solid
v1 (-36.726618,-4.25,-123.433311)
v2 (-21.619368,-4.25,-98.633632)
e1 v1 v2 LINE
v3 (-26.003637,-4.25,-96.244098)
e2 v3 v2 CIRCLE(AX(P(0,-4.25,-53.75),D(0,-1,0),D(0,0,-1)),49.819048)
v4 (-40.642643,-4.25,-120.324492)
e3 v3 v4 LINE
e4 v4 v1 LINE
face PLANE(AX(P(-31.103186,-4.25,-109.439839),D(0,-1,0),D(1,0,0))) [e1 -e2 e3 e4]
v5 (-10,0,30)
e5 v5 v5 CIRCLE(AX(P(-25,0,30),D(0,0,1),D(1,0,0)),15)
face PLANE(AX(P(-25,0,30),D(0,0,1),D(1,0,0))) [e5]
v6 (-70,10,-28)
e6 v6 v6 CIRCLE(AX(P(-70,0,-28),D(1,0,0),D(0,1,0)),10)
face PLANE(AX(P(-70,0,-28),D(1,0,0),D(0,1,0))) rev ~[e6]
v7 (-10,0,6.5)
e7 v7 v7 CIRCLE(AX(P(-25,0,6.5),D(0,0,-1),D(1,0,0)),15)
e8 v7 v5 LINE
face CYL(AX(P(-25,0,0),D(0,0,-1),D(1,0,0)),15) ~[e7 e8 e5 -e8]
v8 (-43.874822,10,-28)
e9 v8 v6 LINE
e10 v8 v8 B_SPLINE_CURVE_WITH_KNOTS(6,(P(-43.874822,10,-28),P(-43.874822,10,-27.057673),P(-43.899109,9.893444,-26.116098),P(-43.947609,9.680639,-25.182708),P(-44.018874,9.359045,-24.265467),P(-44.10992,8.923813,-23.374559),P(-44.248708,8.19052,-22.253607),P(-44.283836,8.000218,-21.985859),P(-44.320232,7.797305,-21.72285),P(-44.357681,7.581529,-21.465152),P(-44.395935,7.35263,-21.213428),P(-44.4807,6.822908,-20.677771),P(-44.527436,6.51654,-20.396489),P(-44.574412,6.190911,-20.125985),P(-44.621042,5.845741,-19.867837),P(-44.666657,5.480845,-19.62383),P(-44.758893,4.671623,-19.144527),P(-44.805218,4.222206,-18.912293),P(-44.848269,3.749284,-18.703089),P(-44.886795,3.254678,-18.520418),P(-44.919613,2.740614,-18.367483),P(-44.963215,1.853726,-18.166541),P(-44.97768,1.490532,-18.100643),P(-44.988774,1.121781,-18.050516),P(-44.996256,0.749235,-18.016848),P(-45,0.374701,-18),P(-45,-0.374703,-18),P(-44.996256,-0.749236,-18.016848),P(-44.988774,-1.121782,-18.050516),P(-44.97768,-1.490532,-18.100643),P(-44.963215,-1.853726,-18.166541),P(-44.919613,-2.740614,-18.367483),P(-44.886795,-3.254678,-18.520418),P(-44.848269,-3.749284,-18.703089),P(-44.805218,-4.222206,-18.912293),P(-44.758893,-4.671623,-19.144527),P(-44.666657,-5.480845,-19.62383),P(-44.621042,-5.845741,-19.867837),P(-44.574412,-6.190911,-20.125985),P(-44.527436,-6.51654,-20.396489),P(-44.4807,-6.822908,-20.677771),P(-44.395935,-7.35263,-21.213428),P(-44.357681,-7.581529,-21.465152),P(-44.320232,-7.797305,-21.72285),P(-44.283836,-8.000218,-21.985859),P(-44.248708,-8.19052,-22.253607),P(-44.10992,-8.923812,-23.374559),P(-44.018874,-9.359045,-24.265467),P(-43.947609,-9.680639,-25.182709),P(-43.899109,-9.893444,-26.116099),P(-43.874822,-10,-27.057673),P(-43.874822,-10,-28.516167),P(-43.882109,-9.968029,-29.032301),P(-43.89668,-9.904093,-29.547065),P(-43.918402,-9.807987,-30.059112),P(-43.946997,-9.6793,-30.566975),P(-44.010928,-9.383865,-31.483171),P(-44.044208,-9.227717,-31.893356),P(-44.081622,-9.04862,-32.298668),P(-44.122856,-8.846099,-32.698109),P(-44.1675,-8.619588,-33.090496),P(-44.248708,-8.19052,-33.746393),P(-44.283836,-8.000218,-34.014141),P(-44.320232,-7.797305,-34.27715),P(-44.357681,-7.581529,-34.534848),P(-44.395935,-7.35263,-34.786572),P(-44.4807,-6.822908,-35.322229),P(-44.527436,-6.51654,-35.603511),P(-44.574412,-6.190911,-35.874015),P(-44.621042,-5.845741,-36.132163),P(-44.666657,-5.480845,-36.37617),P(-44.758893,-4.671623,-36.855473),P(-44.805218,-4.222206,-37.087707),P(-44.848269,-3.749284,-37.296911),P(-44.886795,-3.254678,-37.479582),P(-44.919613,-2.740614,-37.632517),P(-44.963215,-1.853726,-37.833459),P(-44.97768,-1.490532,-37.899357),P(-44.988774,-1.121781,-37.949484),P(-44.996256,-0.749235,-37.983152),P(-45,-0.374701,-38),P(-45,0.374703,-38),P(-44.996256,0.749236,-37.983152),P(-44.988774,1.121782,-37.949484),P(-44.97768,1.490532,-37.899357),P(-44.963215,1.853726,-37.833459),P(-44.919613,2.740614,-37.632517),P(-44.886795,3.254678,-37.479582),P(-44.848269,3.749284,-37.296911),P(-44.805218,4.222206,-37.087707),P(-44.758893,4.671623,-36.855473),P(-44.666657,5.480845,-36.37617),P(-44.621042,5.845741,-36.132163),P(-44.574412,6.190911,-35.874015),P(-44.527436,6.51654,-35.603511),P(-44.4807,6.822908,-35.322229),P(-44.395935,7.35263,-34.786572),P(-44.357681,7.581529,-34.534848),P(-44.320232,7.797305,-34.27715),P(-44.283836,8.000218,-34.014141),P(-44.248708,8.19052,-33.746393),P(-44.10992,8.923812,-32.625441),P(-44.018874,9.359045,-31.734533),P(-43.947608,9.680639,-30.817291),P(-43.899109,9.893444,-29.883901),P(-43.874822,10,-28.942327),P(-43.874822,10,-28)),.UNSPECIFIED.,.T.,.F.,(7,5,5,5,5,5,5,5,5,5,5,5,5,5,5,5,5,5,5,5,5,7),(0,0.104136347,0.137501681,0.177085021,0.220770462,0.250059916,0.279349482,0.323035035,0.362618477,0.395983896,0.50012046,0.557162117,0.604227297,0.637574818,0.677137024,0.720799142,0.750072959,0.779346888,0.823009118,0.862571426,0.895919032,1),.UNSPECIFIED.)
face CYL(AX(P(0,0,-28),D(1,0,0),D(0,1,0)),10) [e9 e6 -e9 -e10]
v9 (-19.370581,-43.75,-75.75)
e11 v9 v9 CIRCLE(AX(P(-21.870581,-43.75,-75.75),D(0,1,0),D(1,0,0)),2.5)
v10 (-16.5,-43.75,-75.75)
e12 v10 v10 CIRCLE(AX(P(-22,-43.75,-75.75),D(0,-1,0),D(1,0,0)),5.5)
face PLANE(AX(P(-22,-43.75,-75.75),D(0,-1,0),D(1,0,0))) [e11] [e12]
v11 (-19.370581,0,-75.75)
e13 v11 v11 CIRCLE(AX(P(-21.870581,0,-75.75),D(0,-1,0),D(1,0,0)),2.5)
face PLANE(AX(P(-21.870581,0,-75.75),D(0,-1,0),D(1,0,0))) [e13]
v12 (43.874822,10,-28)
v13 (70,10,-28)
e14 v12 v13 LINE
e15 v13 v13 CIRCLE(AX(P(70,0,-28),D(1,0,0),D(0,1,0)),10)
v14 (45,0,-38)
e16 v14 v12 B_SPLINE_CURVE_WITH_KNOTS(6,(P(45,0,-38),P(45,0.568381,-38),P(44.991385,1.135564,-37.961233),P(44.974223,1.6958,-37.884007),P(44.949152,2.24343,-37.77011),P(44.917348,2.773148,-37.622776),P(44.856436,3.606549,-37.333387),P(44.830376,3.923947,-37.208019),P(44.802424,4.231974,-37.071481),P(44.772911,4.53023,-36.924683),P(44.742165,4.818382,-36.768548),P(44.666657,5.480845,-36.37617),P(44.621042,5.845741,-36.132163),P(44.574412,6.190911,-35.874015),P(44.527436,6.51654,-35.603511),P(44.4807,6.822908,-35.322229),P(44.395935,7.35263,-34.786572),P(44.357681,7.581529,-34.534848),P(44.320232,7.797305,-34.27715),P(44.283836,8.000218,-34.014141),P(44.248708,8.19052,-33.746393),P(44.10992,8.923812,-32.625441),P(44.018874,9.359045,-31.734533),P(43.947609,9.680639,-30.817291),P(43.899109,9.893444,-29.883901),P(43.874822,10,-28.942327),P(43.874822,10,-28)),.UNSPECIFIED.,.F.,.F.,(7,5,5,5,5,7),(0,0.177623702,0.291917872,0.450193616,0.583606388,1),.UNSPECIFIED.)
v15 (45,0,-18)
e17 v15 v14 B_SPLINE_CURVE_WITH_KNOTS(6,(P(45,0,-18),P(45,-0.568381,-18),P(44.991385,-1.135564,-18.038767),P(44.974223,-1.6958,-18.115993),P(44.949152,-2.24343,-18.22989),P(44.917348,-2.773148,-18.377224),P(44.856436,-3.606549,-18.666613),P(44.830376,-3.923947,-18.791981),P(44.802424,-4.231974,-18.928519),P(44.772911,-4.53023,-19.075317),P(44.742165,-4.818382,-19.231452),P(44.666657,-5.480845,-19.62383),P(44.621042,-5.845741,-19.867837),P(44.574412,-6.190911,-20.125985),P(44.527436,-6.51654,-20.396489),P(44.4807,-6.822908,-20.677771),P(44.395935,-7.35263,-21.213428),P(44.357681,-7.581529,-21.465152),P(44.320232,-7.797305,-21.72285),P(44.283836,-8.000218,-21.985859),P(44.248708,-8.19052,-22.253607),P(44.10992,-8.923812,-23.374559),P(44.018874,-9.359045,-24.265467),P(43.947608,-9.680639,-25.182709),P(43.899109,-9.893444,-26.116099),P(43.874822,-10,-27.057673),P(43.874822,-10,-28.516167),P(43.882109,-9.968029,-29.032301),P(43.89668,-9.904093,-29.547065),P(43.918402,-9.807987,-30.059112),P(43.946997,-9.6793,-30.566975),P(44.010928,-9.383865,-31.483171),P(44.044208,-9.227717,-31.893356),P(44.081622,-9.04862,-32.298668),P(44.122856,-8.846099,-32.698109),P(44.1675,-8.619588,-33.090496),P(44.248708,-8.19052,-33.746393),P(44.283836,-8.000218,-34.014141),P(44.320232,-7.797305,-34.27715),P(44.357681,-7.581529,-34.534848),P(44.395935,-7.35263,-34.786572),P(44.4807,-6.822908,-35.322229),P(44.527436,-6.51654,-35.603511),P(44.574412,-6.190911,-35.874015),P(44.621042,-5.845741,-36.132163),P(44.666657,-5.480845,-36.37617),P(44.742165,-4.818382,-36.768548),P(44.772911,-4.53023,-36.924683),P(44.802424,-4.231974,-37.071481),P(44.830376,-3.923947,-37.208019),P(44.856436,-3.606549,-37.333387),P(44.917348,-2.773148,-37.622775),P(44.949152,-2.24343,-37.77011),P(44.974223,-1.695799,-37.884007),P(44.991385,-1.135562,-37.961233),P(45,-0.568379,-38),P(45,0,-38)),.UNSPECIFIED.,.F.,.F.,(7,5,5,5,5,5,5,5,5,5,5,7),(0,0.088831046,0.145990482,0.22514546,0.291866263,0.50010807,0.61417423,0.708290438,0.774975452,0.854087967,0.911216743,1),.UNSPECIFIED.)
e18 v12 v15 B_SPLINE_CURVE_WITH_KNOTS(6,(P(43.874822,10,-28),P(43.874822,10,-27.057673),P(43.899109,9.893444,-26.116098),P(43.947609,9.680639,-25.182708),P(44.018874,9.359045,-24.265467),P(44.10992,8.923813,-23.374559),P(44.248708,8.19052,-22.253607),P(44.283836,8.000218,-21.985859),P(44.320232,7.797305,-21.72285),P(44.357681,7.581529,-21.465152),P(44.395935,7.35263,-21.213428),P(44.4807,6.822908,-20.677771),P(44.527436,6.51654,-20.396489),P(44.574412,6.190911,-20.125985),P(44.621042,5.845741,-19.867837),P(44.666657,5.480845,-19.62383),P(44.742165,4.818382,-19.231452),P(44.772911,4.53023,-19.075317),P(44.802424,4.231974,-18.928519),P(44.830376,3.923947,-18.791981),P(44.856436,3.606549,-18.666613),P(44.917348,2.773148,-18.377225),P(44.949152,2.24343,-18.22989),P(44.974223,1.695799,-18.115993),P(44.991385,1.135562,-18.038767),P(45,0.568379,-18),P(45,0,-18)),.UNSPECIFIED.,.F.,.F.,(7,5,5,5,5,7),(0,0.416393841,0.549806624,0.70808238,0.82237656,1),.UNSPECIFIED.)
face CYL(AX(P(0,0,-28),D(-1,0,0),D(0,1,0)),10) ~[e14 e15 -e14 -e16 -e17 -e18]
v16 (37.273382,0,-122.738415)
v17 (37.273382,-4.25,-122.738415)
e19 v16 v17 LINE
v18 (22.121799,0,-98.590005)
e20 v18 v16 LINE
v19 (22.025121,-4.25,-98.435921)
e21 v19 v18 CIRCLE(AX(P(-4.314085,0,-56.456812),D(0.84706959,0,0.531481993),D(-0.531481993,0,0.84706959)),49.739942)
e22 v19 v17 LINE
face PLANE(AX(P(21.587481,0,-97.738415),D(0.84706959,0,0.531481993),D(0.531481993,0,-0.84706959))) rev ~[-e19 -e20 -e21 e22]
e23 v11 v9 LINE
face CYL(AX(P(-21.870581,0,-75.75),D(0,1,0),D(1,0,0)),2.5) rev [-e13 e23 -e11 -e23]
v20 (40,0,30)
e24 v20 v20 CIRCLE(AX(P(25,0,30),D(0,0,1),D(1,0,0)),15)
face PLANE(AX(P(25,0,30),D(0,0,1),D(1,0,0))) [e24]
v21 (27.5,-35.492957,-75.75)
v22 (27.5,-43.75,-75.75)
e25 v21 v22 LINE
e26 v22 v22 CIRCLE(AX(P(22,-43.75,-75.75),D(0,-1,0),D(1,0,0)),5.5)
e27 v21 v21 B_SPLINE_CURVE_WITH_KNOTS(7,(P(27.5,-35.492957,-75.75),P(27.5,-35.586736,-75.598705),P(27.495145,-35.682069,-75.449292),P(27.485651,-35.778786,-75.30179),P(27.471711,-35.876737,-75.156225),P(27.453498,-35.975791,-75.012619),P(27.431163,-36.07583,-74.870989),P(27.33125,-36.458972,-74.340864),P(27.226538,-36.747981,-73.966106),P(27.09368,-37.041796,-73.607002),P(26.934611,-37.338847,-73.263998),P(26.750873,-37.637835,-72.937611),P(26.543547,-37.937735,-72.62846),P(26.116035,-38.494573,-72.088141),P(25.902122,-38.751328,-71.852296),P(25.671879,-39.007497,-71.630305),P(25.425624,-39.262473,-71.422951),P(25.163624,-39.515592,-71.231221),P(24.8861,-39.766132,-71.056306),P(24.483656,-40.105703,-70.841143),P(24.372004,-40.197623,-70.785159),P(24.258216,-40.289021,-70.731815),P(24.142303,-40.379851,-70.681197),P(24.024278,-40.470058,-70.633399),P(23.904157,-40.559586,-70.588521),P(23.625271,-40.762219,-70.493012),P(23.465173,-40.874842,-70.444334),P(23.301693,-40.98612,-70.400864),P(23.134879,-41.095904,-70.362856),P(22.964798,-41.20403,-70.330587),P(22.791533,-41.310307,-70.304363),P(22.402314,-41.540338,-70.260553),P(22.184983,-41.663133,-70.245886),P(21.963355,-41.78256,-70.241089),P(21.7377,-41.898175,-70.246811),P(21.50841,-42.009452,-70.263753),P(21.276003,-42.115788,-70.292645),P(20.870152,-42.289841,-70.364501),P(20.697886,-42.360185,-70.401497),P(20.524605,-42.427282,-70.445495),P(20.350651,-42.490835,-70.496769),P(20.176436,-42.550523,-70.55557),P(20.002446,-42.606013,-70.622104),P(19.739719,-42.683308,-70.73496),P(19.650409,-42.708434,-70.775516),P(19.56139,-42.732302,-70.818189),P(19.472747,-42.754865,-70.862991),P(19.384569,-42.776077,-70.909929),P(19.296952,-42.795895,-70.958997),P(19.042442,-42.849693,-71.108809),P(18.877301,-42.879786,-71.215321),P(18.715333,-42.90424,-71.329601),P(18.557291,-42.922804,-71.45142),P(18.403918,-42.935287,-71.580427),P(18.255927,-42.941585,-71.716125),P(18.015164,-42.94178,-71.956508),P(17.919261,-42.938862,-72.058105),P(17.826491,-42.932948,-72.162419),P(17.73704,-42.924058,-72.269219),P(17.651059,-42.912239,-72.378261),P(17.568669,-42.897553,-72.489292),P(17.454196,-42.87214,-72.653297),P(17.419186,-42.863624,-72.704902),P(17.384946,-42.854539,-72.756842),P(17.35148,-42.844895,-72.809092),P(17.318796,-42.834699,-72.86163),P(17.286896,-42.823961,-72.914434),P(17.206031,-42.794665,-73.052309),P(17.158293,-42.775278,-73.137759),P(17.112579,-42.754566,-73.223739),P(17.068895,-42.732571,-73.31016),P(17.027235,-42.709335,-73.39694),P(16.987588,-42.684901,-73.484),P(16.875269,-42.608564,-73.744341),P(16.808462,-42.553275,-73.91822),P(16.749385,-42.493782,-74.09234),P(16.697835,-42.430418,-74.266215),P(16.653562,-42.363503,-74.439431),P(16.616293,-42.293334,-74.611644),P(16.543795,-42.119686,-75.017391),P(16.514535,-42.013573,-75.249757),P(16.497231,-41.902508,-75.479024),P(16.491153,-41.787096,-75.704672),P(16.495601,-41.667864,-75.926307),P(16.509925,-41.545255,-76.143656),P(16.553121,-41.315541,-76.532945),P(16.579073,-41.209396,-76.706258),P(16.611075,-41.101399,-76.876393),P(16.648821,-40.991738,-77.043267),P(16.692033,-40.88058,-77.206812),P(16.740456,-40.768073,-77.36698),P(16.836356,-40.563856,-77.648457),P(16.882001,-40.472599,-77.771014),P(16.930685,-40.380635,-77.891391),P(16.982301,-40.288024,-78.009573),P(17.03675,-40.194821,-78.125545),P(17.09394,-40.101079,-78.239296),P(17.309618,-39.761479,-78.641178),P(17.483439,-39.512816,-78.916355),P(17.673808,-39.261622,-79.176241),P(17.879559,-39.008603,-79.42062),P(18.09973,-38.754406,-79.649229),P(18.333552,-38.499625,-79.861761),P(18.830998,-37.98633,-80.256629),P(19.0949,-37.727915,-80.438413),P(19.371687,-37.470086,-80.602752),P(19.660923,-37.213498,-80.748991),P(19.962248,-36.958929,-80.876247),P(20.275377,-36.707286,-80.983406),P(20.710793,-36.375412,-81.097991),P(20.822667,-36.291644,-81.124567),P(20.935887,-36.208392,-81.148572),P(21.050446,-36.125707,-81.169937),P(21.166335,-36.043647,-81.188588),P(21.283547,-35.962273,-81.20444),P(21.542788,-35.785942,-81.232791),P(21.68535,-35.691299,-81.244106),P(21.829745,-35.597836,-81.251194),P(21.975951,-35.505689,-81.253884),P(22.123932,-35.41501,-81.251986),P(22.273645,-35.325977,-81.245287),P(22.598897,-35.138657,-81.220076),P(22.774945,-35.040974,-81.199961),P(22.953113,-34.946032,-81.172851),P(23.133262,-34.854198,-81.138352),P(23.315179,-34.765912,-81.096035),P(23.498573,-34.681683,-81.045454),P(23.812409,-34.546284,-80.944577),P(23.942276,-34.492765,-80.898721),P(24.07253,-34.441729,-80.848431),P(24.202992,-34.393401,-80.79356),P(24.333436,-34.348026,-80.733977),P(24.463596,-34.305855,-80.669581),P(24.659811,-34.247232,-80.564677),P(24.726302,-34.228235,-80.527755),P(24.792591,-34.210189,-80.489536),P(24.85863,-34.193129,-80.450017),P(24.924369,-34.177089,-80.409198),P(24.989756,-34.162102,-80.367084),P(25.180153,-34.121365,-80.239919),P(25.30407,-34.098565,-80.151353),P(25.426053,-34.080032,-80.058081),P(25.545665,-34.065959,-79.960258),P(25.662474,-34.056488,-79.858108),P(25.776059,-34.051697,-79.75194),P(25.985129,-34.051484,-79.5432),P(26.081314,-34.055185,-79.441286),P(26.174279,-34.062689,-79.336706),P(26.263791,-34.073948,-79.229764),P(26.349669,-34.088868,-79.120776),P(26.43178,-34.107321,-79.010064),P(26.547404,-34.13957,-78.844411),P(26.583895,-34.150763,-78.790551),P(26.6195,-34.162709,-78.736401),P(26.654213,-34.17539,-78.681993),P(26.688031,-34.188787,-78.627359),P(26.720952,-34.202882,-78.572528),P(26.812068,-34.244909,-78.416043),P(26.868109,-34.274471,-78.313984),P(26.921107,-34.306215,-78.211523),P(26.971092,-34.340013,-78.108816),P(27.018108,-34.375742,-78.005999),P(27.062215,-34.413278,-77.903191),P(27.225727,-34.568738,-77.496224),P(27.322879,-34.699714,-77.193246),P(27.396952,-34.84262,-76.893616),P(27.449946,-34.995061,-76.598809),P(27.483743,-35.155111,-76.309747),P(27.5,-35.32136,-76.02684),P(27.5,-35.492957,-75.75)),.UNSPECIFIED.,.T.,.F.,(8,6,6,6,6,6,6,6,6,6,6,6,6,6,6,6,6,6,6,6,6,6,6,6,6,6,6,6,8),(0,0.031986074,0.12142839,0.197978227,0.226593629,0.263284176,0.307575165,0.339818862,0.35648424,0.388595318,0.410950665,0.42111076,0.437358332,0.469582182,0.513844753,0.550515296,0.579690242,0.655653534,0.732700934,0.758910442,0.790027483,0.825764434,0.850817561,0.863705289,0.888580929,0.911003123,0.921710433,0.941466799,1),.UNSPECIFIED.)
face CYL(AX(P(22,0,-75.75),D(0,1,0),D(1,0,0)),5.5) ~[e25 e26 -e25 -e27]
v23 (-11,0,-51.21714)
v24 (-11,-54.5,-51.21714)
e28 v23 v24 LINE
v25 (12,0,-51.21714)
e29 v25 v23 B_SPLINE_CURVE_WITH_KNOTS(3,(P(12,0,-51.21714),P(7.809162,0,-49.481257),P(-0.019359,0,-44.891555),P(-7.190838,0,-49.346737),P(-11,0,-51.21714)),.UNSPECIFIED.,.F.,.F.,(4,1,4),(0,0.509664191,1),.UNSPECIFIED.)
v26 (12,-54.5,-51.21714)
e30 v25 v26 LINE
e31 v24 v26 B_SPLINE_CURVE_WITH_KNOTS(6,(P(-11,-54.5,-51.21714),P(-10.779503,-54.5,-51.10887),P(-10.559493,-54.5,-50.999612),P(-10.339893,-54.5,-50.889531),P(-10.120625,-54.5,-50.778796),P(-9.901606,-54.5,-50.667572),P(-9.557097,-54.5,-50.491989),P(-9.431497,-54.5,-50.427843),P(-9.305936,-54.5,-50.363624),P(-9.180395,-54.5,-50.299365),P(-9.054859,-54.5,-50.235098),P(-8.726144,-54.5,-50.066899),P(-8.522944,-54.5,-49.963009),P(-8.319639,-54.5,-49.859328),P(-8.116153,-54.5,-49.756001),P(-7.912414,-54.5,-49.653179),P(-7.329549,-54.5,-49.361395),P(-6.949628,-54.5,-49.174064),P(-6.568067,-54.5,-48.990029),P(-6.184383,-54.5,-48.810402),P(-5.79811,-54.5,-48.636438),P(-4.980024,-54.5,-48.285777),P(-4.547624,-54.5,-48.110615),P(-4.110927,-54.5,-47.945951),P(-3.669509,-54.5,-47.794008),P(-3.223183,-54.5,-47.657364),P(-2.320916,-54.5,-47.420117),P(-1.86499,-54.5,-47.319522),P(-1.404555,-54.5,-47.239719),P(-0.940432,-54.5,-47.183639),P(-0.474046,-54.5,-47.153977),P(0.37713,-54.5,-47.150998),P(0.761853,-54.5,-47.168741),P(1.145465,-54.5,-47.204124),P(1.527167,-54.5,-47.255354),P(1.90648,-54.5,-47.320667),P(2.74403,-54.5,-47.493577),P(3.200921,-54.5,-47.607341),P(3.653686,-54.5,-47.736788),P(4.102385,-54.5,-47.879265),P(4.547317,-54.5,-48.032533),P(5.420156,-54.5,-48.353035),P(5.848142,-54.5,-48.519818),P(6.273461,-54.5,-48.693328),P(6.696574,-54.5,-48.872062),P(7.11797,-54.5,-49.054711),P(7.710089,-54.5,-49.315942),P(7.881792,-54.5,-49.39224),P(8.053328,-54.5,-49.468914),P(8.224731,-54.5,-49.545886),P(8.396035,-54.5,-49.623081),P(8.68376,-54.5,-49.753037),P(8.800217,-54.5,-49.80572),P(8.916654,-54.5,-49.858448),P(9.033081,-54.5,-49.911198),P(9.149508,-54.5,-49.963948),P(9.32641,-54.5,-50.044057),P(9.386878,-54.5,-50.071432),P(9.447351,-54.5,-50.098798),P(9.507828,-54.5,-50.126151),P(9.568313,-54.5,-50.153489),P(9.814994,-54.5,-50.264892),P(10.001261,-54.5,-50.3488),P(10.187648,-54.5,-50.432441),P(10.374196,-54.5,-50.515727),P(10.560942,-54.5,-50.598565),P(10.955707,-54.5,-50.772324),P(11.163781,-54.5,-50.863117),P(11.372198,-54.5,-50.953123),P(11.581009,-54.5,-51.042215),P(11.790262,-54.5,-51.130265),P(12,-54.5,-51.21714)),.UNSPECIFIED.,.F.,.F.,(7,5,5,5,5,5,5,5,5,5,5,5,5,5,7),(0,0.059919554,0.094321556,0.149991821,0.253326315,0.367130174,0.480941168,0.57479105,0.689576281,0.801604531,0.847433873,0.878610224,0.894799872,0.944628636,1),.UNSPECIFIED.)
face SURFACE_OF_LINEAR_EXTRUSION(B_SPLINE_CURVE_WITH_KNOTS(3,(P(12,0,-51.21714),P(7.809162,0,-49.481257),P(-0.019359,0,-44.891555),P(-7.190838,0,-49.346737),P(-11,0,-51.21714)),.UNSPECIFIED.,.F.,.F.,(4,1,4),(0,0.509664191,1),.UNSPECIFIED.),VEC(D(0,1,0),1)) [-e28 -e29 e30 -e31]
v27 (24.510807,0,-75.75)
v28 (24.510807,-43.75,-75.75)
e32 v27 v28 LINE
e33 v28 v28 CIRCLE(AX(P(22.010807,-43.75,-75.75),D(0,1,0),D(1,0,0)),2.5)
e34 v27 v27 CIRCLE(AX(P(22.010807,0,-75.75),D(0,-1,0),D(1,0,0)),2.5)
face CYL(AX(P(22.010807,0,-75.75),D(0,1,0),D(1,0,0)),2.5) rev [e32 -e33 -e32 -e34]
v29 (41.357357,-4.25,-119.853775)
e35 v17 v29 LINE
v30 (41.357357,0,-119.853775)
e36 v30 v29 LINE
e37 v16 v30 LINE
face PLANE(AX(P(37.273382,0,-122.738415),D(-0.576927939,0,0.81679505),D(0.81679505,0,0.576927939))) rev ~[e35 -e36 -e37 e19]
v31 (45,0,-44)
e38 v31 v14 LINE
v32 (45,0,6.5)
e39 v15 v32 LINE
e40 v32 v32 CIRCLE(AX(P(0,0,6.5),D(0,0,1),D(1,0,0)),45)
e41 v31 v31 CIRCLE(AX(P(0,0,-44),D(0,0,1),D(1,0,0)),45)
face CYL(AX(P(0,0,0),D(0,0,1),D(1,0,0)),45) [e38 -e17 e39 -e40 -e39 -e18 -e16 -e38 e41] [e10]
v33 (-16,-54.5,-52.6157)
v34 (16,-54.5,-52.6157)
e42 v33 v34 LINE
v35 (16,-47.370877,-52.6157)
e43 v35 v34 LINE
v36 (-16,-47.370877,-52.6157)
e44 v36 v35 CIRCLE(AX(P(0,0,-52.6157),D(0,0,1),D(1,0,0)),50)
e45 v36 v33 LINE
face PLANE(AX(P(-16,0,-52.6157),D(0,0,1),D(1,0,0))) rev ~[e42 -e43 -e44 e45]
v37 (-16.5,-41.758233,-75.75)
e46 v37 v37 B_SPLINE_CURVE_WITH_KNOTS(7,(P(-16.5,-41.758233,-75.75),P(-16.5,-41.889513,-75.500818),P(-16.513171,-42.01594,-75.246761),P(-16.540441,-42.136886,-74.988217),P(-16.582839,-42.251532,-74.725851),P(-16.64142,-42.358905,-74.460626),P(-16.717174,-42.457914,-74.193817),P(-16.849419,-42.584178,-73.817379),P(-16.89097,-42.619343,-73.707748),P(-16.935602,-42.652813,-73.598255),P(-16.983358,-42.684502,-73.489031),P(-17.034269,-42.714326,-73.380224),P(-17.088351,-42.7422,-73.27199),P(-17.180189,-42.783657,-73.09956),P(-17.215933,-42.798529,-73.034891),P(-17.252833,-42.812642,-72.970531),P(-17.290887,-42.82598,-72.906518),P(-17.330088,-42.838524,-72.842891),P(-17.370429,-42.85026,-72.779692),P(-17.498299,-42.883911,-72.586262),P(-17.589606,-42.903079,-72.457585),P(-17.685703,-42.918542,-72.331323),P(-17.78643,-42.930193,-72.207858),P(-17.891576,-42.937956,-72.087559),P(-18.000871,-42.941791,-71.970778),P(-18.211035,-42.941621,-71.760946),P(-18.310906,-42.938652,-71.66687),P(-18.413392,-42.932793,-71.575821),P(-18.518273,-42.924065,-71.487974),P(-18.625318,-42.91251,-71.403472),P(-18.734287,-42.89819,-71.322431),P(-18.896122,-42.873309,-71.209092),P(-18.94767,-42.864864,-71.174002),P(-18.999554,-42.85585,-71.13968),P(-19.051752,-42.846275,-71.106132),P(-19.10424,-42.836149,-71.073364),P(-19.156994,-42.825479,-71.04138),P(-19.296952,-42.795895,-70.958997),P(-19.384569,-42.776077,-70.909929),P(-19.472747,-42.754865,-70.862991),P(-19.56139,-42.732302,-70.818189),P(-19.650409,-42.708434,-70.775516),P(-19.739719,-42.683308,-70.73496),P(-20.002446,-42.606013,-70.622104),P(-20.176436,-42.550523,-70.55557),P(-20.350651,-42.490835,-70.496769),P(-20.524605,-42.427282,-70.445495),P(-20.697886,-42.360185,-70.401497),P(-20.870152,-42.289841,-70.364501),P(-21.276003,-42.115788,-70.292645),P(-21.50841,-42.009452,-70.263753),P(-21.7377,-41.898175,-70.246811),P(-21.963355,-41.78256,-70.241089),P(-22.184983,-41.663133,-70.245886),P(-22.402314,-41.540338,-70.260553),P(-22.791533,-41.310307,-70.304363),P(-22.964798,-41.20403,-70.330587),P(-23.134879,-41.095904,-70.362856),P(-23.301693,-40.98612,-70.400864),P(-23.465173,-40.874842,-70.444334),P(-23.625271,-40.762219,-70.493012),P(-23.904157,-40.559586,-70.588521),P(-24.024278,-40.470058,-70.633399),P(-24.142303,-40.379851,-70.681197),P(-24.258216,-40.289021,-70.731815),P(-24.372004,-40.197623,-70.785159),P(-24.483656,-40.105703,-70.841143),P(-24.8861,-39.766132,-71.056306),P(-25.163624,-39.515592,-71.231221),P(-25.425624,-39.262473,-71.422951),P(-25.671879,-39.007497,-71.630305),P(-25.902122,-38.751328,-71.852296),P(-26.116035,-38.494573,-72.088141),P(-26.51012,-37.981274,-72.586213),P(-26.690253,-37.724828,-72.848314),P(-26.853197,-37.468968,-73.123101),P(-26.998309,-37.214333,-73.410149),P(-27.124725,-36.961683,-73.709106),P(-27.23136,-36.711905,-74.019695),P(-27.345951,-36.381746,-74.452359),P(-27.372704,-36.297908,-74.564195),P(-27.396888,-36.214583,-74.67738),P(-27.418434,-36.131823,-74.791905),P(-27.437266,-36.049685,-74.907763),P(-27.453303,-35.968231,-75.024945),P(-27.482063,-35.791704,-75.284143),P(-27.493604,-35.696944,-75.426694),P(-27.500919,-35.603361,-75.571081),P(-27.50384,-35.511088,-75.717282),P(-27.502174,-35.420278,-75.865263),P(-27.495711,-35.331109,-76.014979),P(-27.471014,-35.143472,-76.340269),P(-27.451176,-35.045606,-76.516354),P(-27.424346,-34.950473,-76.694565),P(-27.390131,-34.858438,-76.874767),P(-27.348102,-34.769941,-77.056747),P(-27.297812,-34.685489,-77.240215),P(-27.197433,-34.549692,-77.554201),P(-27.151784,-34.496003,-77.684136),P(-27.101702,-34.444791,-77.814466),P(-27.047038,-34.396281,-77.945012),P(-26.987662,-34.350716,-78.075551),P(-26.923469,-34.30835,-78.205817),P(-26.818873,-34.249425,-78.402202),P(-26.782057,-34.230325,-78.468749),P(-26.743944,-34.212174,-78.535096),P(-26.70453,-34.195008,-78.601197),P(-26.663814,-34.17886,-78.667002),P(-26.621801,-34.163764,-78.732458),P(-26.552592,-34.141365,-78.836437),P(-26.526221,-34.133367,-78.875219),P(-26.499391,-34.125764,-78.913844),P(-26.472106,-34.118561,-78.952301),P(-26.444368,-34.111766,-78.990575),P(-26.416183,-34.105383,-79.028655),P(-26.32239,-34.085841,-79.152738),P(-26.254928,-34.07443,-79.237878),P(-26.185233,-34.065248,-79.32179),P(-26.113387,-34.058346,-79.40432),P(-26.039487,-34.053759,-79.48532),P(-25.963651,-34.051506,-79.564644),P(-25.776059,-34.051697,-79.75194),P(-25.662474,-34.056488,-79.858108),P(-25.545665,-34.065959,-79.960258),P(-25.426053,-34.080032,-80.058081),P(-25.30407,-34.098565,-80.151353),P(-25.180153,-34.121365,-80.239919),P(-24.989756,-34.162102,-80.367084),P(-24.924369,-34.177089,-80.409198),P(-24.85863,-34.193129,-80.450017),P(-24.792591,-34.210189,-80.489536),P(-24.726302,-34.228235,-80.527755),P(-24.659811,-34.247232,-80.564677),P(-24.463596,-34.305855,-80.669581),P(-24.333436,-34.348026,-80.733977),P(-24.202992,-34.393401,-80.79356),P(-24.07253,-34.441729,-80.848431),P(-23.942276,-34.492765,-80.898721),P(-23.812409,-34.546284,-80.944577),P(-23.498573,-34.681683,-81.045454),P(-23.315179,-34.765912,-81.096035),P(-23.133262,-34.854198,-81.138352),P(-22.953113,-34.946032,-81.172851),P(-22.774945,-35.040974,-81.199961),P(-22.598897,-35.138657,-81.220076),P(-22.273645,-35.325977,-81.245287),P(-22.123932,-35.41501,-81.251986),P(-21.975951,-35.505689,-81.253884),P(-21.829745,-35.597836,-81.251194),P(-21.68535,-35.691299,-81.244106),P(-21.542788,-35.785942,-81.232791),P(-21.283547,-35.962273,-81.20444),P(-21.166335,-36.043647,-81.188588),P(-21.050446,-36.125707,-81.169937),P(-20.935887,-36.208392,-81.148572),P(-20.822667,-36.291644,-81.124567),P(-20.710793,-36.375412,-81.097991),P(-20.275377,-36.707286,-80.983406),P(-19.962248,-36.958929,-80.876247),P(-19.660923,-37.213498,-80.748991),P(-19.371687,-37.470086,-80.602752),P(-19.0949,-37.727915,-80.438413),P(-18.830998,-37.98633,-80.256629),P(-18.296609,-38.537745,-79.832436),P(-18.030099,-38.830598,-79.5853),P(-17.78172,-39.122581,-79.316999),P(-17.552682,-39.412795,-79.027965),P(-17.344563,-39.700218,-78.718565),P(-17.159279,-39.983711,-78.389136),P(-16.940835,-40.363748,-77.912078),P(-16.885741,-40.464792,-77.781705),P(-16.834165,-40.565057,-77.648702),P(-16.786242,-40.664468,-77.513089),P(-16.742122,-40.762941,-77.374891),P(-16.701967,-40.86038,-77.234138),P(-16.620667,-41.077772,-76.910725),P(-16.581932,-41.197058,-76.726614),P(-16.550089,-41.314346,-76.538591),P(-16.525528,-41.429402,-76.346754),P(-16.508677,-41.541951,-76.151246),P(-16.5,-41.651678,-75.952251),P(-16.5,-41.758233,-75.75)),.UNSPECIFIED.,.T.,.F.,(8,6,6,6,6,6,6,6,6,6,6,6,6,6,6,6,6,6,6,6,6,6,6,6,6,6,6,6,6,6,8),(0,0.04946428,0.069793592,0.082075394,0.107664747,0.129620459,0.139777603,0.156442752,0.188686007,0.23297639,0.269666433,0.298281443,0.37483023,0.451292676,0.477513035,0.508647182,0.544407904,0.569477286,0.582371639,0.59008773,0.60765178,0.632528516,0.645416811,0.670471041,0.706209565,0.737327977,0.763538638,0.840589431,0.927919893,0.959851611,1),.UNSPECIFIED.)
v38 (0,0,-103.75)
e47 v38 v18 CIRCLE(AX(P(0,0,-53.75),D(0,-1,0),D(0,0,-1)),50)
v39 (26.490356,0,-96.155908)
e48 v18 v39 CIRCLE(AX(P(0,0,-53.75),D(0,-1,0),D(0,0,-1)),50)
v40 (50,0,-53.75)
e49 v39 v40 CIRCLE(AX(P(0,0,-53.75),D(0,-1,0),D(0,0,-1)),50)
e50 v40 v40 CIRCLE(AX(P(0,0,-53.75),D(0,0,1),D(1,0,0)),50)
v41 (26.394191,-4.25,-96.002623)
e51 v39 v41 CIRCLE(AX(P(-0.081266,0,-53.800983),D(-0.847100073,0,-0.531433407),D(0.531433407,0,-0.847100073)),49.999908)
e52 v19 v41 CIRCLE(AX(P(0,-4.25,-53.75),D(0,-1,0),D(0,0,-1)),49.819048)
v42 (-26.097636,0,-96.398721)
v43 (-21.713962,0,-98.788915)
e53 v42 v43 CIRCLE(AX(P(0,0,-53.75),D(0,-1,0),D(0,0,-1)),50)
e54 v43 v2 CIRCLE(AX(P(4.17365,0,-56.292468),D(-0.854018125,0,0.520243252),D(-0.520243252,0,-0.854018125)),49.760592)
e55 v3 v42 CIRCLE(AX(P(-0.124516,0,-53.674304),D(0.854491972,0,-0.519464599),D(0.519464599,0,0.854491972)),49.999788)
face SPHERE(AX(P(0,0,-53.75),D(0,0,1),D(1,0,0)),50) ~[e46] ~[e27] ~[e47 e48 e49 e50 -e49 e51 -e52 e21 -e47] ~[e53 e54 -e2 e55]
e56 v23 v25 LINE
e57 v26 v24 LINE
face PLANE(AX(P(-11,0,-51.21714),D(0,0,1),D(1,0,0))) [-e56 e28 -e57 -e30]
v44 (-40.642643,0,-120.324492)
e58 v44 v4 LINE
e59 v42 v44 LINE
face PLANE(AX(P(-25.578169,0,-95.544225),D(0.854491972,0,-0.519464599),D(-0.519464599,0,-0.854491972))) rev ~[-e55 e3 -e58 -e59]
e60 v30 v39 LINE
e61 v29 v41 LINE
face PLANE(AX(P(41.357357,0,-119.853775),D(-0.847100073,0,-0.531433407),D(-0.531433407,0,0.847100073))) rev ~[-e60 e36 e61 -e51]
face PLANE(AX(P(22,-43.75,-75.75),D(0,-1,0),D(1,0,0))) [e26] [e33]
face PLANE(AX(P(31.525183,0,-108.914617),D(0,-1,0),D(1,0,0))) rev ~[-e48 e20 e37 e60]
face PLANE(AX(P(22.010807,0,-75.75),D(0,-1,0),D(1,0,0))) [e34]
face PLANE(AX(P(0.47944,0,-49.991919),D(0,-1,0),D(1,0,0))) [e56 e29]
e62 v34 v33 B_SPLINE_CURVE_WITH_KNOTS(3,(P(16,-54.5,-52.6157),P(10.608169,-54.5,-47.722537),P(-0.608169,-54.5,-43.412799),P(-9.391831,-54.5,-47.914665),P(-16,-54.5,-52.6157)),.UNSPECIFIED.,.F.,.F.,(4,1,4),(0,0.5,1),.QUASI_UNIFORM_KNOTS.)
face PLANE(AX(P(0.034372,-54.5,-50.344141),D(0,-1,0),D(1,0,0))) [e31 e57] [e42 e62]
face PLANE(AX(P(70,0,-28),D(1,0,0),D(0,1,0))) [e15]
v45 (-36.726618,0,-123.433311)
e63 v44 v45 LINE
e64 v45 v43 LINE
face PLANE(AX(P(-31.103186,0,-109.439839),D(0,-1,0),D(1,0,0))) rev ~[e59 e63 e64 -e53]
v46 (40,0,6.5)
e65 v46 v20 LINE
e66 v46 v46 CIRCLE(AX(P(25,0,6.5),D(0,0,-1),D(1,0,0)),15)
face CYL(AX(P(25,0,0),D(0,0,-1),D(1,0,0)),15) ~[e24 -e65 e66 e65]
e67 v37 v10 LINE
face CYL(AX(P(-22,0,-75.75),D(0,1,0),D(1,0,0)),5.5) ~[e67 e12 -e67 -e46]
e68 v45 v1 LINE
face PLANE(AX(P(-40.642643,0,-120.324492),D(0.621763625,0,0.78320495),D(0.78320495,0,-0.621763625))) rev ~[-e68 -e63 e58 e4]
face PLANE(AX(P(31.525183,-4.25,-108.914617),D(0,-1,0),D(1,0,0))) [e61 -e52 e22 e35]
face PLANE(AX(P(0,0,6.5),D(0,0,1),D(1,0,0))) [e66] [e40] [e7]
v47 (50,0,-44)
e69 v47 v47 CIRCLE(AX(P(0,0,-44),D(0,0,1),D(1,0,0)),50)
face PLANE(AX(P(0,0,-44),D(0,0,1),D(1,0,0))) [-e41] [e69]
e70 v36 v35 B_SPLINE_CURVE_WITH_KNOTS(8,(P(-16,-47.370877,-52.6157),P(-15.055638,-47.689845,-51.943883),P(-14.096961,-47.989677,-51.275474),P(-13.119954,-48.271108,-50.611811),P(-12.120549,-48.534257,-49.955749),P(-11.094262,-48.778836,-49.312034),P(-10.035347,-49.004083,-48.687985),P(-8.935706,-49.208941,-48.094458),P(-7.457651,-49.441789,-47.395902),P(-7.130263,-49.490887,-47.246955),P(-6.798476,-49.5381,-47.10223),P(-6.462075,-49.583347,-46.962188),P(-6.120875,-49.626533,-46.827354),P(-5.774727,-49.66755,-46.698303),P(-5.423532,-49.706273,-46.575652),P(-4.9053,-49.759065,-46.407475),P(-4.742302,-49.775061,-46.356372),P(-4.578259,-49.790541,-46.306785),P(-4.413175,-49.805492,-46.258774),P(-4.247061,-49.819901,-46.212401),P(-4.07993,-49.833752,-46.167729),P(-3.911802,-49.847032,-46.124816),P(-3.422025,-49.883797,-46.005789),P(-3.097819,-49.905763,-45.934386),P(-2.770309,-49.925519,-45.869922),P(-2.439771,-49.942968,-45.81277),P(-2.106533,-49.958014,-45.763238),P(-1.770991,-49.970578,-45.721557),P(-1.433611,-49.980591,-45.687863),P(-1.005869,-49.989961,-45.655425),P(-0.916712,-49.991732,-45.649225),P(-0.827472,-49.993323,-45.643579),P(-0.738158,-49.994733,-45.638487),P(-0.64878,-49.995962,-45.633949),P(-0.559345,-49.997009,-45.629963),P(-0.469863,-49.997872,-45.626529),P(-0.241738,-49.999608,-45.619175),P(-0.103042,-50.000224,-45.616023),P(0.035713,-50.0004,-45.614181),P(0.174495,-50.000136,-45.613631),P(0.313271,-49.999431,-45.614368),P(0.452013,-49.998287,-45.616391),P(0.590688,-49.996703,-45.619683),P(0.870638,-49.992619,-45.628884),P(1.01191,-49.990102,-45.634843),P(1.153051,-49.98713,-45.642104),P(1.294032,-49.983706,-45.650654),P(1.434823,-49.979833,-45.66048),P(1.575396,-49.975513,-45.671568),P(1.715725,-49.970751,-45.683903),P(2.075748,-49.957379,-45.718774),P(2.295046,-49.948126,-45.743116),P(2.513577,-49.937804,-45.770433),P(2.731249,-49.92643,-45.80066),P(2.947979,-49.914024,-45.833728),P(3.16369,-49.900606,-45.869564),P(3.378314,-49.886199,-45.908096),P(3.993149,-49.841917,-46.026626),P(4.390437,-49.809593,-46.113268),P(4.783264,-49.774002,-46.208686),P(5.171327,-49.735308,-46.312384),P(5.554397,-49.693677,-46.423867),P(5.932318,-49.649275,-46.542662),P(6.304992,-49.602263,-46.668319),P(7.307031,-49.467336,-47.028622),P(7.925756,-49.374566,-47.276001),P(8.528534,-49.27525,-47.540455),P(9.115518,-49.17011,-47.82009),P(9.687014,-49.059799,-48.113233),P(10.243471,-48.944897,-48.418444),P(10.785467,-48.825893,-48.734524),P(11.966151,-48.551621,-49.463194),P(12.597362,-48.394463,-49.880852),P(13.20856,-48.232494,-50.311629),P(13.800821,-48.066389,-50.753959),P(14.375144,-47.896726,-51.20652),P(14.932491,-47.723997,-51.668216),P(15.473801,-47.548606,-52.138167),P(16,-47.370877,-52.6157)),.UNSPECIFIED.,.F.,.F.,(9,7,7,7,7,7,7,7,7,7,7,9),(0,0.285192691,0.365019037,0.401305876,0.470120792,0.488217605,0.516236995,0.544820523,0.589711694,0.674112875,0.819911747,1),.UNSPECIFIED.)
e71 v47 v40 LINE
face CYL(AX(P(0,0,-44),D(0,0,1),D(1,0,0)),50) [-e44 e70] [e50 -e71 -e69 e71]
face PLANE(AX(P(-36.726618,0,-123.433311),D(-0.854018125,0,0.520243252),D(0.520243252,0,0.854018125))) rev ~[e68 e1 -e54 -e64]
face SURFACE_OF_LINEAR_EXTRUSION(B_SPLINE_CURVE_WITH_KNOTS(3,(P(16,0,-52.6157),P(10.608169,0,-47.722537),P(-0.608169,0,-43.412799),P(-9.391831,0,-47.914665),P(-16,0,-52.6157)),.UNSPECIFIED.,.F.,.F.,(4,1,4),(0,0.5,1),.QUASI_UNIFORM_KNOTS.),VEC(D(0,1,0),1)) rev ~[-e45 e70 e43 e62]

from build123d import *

# Parameters (mm, degrees)
F0_R          = 15
F3_DEPTH      = 30
F1_R          = 45
F4_DEPTH      = 50
F4_DEPTH_BACK = 6.5
F5_START      = -44
F2_R          = 50
F5_DEPTH      = 9.75
F6_R          = 10
F7_DEPTH      = 70
F8_R          = 10
F9_DEPTH      = 70
F12_R         = 5.5
F13_DEPTH     = 43.75
F14_R         = 2.5
F15_DEPTH     = 50.5
F17_DEPTH     = 4.25
F19_DEPTH     = 54.5
F21_DEPTH     = 63.5


with BuildPart() as f3:
    # F0 (on Top) → F3 (new body)
    with BuildSketch(Plane.XY):
        with Locations((-25, 0)):
            Circle(F0_R)
    extrude(amount=F3_DEPTH)



with BuildPart() as f3b:
    # F0 (on Top) → F3, piece 2 (new body)
    with BuildSketch(Plane.XY):
        with Locations((25, 0)):
            Circle(F0_R)
    extrude(amount=F3_DEPTH)


with BuildPart() as f3_1:
    add(f3.part)

    add(f3b.part)  # F4 merges F3b
    # F1 (on Top) → F4 (join, two sides)
    with BuildSketch(Plane.XY) as f4_sk:
        Circle(F1_R)
    extrude(amount=-F4_DEPTH)
    extrude(f4_sk.sketch, amount=F4_DEPTH_BACK)

    # F2 (on Top) → F5 (join)
    with BuildSketch(Plane.XY.offset(F5_START)):
        Circle(F2_R)
    extrude(amount=-F5_DEPTH)

    # F6 (on Right) → F7 (join)
    with BuildSketch(Plane.YZ):
        with Locations((0, -28)):
            Circle(F6_R)
    extrude(amount=F7_DEPTH)

    # F8 (on Right) → F9 (join)
    with BuildSketch(Plane.YZ):
        with Locations((0, -28)):
            Circle(F8_R)
    extrude(amount=-F9_DEPTH)

    # F10 (on Front) → F11 (revolve)
    with BuildSketch(Plane.XZ):
        with BuildLine():
            Line((0, -53.75), (0, -103.75))
            ThreePointArc((0, -103.75), (35.3553390593, -89.1053390593), (50, -53.75))
            Line((50, -53.75), (0, -53.75))
        make_face()
    revolve(axis=Axis((0, 0, -78.75), (0, 0, -1)))

    # F12 (on Front) → F13 (join)
    with BuildSketch(Plane.XZ):
        with Locations((22, -75.75)):
            Circle(F12_R)
        with Locations((-22, -75.75)):
            Circle(F12_R)
    extrude(amount=F13_DEPTH)

    # F14 (on Front) → F15 (cut)
    with BuildSketch(Plane.XZ):
        with Locations((22.0108069479, -75.75)):
            Circle(F14_R)
        with Locations((-21.8705814332, -75.75)):
            Circle(F14_R)
    extrude(amount=F15_DEPTH, mode=Mode.SUBTRACT)

    # F16 (on Front) → F17 (join)
    with BuildSketch(Plane.XZ):
        Polygon((37.273382177, -122.7384150805), (41.3573574255, -119.8537753855), (25.9457886256, -95.2878732623), (21.5874810644, -97.7384150805), align=None)
        Polygon((-40.6426425745, -120.3244923925), (-36.726617823, -123.4333105193), (-21.49733765, -98.4333105193), (-25.5781691914, -95.5442252089), align=None)
    extrude(amount=F17_DEPTH)

    # F18 (on Front) → F19 (join)
    with BuildSketch(Plane.XZ):
        with BuildLine():
            Line((-16, -52.6157000572), (16, -52.6157000572))
            add(Edge.make_bspline(
                [(16, -52.6157000572), (10.6081692502, -47.7225370705), (-0.6081692502, -43.4127992868), (-9.3918307498, -47.914664585), (-16, -52.6157000572)],
                knots=[0, 0, 0, 0, 0.5, 1, 1, 1, 1], degree=3))
        make_face()
    extrude(amount=F19_DEPTH)

    # F20 (on Front) → F21 (cut)
    with BuildSketch(Plane.XZ):
        with BuildLine():
            Line((-11, -51.2171401906), (12, -51.2171401906))
            add(Edge.make_bspline(
                [(12, -51.2171401906), (7.809161948, -49.4812574583), (-0.0193589542, -44.8915549483), (-7.190838052, -49.3467373151), (-11, -51.2171401906)],
                knots=[0, 0, 0, 0, 0.5096641908, 1, 1, 1, 1], degree=3))
        make_face()
    extrude(amount=F21_DEPTH, mode=Mode.SUBTRACT)


solid = f3_1.part
